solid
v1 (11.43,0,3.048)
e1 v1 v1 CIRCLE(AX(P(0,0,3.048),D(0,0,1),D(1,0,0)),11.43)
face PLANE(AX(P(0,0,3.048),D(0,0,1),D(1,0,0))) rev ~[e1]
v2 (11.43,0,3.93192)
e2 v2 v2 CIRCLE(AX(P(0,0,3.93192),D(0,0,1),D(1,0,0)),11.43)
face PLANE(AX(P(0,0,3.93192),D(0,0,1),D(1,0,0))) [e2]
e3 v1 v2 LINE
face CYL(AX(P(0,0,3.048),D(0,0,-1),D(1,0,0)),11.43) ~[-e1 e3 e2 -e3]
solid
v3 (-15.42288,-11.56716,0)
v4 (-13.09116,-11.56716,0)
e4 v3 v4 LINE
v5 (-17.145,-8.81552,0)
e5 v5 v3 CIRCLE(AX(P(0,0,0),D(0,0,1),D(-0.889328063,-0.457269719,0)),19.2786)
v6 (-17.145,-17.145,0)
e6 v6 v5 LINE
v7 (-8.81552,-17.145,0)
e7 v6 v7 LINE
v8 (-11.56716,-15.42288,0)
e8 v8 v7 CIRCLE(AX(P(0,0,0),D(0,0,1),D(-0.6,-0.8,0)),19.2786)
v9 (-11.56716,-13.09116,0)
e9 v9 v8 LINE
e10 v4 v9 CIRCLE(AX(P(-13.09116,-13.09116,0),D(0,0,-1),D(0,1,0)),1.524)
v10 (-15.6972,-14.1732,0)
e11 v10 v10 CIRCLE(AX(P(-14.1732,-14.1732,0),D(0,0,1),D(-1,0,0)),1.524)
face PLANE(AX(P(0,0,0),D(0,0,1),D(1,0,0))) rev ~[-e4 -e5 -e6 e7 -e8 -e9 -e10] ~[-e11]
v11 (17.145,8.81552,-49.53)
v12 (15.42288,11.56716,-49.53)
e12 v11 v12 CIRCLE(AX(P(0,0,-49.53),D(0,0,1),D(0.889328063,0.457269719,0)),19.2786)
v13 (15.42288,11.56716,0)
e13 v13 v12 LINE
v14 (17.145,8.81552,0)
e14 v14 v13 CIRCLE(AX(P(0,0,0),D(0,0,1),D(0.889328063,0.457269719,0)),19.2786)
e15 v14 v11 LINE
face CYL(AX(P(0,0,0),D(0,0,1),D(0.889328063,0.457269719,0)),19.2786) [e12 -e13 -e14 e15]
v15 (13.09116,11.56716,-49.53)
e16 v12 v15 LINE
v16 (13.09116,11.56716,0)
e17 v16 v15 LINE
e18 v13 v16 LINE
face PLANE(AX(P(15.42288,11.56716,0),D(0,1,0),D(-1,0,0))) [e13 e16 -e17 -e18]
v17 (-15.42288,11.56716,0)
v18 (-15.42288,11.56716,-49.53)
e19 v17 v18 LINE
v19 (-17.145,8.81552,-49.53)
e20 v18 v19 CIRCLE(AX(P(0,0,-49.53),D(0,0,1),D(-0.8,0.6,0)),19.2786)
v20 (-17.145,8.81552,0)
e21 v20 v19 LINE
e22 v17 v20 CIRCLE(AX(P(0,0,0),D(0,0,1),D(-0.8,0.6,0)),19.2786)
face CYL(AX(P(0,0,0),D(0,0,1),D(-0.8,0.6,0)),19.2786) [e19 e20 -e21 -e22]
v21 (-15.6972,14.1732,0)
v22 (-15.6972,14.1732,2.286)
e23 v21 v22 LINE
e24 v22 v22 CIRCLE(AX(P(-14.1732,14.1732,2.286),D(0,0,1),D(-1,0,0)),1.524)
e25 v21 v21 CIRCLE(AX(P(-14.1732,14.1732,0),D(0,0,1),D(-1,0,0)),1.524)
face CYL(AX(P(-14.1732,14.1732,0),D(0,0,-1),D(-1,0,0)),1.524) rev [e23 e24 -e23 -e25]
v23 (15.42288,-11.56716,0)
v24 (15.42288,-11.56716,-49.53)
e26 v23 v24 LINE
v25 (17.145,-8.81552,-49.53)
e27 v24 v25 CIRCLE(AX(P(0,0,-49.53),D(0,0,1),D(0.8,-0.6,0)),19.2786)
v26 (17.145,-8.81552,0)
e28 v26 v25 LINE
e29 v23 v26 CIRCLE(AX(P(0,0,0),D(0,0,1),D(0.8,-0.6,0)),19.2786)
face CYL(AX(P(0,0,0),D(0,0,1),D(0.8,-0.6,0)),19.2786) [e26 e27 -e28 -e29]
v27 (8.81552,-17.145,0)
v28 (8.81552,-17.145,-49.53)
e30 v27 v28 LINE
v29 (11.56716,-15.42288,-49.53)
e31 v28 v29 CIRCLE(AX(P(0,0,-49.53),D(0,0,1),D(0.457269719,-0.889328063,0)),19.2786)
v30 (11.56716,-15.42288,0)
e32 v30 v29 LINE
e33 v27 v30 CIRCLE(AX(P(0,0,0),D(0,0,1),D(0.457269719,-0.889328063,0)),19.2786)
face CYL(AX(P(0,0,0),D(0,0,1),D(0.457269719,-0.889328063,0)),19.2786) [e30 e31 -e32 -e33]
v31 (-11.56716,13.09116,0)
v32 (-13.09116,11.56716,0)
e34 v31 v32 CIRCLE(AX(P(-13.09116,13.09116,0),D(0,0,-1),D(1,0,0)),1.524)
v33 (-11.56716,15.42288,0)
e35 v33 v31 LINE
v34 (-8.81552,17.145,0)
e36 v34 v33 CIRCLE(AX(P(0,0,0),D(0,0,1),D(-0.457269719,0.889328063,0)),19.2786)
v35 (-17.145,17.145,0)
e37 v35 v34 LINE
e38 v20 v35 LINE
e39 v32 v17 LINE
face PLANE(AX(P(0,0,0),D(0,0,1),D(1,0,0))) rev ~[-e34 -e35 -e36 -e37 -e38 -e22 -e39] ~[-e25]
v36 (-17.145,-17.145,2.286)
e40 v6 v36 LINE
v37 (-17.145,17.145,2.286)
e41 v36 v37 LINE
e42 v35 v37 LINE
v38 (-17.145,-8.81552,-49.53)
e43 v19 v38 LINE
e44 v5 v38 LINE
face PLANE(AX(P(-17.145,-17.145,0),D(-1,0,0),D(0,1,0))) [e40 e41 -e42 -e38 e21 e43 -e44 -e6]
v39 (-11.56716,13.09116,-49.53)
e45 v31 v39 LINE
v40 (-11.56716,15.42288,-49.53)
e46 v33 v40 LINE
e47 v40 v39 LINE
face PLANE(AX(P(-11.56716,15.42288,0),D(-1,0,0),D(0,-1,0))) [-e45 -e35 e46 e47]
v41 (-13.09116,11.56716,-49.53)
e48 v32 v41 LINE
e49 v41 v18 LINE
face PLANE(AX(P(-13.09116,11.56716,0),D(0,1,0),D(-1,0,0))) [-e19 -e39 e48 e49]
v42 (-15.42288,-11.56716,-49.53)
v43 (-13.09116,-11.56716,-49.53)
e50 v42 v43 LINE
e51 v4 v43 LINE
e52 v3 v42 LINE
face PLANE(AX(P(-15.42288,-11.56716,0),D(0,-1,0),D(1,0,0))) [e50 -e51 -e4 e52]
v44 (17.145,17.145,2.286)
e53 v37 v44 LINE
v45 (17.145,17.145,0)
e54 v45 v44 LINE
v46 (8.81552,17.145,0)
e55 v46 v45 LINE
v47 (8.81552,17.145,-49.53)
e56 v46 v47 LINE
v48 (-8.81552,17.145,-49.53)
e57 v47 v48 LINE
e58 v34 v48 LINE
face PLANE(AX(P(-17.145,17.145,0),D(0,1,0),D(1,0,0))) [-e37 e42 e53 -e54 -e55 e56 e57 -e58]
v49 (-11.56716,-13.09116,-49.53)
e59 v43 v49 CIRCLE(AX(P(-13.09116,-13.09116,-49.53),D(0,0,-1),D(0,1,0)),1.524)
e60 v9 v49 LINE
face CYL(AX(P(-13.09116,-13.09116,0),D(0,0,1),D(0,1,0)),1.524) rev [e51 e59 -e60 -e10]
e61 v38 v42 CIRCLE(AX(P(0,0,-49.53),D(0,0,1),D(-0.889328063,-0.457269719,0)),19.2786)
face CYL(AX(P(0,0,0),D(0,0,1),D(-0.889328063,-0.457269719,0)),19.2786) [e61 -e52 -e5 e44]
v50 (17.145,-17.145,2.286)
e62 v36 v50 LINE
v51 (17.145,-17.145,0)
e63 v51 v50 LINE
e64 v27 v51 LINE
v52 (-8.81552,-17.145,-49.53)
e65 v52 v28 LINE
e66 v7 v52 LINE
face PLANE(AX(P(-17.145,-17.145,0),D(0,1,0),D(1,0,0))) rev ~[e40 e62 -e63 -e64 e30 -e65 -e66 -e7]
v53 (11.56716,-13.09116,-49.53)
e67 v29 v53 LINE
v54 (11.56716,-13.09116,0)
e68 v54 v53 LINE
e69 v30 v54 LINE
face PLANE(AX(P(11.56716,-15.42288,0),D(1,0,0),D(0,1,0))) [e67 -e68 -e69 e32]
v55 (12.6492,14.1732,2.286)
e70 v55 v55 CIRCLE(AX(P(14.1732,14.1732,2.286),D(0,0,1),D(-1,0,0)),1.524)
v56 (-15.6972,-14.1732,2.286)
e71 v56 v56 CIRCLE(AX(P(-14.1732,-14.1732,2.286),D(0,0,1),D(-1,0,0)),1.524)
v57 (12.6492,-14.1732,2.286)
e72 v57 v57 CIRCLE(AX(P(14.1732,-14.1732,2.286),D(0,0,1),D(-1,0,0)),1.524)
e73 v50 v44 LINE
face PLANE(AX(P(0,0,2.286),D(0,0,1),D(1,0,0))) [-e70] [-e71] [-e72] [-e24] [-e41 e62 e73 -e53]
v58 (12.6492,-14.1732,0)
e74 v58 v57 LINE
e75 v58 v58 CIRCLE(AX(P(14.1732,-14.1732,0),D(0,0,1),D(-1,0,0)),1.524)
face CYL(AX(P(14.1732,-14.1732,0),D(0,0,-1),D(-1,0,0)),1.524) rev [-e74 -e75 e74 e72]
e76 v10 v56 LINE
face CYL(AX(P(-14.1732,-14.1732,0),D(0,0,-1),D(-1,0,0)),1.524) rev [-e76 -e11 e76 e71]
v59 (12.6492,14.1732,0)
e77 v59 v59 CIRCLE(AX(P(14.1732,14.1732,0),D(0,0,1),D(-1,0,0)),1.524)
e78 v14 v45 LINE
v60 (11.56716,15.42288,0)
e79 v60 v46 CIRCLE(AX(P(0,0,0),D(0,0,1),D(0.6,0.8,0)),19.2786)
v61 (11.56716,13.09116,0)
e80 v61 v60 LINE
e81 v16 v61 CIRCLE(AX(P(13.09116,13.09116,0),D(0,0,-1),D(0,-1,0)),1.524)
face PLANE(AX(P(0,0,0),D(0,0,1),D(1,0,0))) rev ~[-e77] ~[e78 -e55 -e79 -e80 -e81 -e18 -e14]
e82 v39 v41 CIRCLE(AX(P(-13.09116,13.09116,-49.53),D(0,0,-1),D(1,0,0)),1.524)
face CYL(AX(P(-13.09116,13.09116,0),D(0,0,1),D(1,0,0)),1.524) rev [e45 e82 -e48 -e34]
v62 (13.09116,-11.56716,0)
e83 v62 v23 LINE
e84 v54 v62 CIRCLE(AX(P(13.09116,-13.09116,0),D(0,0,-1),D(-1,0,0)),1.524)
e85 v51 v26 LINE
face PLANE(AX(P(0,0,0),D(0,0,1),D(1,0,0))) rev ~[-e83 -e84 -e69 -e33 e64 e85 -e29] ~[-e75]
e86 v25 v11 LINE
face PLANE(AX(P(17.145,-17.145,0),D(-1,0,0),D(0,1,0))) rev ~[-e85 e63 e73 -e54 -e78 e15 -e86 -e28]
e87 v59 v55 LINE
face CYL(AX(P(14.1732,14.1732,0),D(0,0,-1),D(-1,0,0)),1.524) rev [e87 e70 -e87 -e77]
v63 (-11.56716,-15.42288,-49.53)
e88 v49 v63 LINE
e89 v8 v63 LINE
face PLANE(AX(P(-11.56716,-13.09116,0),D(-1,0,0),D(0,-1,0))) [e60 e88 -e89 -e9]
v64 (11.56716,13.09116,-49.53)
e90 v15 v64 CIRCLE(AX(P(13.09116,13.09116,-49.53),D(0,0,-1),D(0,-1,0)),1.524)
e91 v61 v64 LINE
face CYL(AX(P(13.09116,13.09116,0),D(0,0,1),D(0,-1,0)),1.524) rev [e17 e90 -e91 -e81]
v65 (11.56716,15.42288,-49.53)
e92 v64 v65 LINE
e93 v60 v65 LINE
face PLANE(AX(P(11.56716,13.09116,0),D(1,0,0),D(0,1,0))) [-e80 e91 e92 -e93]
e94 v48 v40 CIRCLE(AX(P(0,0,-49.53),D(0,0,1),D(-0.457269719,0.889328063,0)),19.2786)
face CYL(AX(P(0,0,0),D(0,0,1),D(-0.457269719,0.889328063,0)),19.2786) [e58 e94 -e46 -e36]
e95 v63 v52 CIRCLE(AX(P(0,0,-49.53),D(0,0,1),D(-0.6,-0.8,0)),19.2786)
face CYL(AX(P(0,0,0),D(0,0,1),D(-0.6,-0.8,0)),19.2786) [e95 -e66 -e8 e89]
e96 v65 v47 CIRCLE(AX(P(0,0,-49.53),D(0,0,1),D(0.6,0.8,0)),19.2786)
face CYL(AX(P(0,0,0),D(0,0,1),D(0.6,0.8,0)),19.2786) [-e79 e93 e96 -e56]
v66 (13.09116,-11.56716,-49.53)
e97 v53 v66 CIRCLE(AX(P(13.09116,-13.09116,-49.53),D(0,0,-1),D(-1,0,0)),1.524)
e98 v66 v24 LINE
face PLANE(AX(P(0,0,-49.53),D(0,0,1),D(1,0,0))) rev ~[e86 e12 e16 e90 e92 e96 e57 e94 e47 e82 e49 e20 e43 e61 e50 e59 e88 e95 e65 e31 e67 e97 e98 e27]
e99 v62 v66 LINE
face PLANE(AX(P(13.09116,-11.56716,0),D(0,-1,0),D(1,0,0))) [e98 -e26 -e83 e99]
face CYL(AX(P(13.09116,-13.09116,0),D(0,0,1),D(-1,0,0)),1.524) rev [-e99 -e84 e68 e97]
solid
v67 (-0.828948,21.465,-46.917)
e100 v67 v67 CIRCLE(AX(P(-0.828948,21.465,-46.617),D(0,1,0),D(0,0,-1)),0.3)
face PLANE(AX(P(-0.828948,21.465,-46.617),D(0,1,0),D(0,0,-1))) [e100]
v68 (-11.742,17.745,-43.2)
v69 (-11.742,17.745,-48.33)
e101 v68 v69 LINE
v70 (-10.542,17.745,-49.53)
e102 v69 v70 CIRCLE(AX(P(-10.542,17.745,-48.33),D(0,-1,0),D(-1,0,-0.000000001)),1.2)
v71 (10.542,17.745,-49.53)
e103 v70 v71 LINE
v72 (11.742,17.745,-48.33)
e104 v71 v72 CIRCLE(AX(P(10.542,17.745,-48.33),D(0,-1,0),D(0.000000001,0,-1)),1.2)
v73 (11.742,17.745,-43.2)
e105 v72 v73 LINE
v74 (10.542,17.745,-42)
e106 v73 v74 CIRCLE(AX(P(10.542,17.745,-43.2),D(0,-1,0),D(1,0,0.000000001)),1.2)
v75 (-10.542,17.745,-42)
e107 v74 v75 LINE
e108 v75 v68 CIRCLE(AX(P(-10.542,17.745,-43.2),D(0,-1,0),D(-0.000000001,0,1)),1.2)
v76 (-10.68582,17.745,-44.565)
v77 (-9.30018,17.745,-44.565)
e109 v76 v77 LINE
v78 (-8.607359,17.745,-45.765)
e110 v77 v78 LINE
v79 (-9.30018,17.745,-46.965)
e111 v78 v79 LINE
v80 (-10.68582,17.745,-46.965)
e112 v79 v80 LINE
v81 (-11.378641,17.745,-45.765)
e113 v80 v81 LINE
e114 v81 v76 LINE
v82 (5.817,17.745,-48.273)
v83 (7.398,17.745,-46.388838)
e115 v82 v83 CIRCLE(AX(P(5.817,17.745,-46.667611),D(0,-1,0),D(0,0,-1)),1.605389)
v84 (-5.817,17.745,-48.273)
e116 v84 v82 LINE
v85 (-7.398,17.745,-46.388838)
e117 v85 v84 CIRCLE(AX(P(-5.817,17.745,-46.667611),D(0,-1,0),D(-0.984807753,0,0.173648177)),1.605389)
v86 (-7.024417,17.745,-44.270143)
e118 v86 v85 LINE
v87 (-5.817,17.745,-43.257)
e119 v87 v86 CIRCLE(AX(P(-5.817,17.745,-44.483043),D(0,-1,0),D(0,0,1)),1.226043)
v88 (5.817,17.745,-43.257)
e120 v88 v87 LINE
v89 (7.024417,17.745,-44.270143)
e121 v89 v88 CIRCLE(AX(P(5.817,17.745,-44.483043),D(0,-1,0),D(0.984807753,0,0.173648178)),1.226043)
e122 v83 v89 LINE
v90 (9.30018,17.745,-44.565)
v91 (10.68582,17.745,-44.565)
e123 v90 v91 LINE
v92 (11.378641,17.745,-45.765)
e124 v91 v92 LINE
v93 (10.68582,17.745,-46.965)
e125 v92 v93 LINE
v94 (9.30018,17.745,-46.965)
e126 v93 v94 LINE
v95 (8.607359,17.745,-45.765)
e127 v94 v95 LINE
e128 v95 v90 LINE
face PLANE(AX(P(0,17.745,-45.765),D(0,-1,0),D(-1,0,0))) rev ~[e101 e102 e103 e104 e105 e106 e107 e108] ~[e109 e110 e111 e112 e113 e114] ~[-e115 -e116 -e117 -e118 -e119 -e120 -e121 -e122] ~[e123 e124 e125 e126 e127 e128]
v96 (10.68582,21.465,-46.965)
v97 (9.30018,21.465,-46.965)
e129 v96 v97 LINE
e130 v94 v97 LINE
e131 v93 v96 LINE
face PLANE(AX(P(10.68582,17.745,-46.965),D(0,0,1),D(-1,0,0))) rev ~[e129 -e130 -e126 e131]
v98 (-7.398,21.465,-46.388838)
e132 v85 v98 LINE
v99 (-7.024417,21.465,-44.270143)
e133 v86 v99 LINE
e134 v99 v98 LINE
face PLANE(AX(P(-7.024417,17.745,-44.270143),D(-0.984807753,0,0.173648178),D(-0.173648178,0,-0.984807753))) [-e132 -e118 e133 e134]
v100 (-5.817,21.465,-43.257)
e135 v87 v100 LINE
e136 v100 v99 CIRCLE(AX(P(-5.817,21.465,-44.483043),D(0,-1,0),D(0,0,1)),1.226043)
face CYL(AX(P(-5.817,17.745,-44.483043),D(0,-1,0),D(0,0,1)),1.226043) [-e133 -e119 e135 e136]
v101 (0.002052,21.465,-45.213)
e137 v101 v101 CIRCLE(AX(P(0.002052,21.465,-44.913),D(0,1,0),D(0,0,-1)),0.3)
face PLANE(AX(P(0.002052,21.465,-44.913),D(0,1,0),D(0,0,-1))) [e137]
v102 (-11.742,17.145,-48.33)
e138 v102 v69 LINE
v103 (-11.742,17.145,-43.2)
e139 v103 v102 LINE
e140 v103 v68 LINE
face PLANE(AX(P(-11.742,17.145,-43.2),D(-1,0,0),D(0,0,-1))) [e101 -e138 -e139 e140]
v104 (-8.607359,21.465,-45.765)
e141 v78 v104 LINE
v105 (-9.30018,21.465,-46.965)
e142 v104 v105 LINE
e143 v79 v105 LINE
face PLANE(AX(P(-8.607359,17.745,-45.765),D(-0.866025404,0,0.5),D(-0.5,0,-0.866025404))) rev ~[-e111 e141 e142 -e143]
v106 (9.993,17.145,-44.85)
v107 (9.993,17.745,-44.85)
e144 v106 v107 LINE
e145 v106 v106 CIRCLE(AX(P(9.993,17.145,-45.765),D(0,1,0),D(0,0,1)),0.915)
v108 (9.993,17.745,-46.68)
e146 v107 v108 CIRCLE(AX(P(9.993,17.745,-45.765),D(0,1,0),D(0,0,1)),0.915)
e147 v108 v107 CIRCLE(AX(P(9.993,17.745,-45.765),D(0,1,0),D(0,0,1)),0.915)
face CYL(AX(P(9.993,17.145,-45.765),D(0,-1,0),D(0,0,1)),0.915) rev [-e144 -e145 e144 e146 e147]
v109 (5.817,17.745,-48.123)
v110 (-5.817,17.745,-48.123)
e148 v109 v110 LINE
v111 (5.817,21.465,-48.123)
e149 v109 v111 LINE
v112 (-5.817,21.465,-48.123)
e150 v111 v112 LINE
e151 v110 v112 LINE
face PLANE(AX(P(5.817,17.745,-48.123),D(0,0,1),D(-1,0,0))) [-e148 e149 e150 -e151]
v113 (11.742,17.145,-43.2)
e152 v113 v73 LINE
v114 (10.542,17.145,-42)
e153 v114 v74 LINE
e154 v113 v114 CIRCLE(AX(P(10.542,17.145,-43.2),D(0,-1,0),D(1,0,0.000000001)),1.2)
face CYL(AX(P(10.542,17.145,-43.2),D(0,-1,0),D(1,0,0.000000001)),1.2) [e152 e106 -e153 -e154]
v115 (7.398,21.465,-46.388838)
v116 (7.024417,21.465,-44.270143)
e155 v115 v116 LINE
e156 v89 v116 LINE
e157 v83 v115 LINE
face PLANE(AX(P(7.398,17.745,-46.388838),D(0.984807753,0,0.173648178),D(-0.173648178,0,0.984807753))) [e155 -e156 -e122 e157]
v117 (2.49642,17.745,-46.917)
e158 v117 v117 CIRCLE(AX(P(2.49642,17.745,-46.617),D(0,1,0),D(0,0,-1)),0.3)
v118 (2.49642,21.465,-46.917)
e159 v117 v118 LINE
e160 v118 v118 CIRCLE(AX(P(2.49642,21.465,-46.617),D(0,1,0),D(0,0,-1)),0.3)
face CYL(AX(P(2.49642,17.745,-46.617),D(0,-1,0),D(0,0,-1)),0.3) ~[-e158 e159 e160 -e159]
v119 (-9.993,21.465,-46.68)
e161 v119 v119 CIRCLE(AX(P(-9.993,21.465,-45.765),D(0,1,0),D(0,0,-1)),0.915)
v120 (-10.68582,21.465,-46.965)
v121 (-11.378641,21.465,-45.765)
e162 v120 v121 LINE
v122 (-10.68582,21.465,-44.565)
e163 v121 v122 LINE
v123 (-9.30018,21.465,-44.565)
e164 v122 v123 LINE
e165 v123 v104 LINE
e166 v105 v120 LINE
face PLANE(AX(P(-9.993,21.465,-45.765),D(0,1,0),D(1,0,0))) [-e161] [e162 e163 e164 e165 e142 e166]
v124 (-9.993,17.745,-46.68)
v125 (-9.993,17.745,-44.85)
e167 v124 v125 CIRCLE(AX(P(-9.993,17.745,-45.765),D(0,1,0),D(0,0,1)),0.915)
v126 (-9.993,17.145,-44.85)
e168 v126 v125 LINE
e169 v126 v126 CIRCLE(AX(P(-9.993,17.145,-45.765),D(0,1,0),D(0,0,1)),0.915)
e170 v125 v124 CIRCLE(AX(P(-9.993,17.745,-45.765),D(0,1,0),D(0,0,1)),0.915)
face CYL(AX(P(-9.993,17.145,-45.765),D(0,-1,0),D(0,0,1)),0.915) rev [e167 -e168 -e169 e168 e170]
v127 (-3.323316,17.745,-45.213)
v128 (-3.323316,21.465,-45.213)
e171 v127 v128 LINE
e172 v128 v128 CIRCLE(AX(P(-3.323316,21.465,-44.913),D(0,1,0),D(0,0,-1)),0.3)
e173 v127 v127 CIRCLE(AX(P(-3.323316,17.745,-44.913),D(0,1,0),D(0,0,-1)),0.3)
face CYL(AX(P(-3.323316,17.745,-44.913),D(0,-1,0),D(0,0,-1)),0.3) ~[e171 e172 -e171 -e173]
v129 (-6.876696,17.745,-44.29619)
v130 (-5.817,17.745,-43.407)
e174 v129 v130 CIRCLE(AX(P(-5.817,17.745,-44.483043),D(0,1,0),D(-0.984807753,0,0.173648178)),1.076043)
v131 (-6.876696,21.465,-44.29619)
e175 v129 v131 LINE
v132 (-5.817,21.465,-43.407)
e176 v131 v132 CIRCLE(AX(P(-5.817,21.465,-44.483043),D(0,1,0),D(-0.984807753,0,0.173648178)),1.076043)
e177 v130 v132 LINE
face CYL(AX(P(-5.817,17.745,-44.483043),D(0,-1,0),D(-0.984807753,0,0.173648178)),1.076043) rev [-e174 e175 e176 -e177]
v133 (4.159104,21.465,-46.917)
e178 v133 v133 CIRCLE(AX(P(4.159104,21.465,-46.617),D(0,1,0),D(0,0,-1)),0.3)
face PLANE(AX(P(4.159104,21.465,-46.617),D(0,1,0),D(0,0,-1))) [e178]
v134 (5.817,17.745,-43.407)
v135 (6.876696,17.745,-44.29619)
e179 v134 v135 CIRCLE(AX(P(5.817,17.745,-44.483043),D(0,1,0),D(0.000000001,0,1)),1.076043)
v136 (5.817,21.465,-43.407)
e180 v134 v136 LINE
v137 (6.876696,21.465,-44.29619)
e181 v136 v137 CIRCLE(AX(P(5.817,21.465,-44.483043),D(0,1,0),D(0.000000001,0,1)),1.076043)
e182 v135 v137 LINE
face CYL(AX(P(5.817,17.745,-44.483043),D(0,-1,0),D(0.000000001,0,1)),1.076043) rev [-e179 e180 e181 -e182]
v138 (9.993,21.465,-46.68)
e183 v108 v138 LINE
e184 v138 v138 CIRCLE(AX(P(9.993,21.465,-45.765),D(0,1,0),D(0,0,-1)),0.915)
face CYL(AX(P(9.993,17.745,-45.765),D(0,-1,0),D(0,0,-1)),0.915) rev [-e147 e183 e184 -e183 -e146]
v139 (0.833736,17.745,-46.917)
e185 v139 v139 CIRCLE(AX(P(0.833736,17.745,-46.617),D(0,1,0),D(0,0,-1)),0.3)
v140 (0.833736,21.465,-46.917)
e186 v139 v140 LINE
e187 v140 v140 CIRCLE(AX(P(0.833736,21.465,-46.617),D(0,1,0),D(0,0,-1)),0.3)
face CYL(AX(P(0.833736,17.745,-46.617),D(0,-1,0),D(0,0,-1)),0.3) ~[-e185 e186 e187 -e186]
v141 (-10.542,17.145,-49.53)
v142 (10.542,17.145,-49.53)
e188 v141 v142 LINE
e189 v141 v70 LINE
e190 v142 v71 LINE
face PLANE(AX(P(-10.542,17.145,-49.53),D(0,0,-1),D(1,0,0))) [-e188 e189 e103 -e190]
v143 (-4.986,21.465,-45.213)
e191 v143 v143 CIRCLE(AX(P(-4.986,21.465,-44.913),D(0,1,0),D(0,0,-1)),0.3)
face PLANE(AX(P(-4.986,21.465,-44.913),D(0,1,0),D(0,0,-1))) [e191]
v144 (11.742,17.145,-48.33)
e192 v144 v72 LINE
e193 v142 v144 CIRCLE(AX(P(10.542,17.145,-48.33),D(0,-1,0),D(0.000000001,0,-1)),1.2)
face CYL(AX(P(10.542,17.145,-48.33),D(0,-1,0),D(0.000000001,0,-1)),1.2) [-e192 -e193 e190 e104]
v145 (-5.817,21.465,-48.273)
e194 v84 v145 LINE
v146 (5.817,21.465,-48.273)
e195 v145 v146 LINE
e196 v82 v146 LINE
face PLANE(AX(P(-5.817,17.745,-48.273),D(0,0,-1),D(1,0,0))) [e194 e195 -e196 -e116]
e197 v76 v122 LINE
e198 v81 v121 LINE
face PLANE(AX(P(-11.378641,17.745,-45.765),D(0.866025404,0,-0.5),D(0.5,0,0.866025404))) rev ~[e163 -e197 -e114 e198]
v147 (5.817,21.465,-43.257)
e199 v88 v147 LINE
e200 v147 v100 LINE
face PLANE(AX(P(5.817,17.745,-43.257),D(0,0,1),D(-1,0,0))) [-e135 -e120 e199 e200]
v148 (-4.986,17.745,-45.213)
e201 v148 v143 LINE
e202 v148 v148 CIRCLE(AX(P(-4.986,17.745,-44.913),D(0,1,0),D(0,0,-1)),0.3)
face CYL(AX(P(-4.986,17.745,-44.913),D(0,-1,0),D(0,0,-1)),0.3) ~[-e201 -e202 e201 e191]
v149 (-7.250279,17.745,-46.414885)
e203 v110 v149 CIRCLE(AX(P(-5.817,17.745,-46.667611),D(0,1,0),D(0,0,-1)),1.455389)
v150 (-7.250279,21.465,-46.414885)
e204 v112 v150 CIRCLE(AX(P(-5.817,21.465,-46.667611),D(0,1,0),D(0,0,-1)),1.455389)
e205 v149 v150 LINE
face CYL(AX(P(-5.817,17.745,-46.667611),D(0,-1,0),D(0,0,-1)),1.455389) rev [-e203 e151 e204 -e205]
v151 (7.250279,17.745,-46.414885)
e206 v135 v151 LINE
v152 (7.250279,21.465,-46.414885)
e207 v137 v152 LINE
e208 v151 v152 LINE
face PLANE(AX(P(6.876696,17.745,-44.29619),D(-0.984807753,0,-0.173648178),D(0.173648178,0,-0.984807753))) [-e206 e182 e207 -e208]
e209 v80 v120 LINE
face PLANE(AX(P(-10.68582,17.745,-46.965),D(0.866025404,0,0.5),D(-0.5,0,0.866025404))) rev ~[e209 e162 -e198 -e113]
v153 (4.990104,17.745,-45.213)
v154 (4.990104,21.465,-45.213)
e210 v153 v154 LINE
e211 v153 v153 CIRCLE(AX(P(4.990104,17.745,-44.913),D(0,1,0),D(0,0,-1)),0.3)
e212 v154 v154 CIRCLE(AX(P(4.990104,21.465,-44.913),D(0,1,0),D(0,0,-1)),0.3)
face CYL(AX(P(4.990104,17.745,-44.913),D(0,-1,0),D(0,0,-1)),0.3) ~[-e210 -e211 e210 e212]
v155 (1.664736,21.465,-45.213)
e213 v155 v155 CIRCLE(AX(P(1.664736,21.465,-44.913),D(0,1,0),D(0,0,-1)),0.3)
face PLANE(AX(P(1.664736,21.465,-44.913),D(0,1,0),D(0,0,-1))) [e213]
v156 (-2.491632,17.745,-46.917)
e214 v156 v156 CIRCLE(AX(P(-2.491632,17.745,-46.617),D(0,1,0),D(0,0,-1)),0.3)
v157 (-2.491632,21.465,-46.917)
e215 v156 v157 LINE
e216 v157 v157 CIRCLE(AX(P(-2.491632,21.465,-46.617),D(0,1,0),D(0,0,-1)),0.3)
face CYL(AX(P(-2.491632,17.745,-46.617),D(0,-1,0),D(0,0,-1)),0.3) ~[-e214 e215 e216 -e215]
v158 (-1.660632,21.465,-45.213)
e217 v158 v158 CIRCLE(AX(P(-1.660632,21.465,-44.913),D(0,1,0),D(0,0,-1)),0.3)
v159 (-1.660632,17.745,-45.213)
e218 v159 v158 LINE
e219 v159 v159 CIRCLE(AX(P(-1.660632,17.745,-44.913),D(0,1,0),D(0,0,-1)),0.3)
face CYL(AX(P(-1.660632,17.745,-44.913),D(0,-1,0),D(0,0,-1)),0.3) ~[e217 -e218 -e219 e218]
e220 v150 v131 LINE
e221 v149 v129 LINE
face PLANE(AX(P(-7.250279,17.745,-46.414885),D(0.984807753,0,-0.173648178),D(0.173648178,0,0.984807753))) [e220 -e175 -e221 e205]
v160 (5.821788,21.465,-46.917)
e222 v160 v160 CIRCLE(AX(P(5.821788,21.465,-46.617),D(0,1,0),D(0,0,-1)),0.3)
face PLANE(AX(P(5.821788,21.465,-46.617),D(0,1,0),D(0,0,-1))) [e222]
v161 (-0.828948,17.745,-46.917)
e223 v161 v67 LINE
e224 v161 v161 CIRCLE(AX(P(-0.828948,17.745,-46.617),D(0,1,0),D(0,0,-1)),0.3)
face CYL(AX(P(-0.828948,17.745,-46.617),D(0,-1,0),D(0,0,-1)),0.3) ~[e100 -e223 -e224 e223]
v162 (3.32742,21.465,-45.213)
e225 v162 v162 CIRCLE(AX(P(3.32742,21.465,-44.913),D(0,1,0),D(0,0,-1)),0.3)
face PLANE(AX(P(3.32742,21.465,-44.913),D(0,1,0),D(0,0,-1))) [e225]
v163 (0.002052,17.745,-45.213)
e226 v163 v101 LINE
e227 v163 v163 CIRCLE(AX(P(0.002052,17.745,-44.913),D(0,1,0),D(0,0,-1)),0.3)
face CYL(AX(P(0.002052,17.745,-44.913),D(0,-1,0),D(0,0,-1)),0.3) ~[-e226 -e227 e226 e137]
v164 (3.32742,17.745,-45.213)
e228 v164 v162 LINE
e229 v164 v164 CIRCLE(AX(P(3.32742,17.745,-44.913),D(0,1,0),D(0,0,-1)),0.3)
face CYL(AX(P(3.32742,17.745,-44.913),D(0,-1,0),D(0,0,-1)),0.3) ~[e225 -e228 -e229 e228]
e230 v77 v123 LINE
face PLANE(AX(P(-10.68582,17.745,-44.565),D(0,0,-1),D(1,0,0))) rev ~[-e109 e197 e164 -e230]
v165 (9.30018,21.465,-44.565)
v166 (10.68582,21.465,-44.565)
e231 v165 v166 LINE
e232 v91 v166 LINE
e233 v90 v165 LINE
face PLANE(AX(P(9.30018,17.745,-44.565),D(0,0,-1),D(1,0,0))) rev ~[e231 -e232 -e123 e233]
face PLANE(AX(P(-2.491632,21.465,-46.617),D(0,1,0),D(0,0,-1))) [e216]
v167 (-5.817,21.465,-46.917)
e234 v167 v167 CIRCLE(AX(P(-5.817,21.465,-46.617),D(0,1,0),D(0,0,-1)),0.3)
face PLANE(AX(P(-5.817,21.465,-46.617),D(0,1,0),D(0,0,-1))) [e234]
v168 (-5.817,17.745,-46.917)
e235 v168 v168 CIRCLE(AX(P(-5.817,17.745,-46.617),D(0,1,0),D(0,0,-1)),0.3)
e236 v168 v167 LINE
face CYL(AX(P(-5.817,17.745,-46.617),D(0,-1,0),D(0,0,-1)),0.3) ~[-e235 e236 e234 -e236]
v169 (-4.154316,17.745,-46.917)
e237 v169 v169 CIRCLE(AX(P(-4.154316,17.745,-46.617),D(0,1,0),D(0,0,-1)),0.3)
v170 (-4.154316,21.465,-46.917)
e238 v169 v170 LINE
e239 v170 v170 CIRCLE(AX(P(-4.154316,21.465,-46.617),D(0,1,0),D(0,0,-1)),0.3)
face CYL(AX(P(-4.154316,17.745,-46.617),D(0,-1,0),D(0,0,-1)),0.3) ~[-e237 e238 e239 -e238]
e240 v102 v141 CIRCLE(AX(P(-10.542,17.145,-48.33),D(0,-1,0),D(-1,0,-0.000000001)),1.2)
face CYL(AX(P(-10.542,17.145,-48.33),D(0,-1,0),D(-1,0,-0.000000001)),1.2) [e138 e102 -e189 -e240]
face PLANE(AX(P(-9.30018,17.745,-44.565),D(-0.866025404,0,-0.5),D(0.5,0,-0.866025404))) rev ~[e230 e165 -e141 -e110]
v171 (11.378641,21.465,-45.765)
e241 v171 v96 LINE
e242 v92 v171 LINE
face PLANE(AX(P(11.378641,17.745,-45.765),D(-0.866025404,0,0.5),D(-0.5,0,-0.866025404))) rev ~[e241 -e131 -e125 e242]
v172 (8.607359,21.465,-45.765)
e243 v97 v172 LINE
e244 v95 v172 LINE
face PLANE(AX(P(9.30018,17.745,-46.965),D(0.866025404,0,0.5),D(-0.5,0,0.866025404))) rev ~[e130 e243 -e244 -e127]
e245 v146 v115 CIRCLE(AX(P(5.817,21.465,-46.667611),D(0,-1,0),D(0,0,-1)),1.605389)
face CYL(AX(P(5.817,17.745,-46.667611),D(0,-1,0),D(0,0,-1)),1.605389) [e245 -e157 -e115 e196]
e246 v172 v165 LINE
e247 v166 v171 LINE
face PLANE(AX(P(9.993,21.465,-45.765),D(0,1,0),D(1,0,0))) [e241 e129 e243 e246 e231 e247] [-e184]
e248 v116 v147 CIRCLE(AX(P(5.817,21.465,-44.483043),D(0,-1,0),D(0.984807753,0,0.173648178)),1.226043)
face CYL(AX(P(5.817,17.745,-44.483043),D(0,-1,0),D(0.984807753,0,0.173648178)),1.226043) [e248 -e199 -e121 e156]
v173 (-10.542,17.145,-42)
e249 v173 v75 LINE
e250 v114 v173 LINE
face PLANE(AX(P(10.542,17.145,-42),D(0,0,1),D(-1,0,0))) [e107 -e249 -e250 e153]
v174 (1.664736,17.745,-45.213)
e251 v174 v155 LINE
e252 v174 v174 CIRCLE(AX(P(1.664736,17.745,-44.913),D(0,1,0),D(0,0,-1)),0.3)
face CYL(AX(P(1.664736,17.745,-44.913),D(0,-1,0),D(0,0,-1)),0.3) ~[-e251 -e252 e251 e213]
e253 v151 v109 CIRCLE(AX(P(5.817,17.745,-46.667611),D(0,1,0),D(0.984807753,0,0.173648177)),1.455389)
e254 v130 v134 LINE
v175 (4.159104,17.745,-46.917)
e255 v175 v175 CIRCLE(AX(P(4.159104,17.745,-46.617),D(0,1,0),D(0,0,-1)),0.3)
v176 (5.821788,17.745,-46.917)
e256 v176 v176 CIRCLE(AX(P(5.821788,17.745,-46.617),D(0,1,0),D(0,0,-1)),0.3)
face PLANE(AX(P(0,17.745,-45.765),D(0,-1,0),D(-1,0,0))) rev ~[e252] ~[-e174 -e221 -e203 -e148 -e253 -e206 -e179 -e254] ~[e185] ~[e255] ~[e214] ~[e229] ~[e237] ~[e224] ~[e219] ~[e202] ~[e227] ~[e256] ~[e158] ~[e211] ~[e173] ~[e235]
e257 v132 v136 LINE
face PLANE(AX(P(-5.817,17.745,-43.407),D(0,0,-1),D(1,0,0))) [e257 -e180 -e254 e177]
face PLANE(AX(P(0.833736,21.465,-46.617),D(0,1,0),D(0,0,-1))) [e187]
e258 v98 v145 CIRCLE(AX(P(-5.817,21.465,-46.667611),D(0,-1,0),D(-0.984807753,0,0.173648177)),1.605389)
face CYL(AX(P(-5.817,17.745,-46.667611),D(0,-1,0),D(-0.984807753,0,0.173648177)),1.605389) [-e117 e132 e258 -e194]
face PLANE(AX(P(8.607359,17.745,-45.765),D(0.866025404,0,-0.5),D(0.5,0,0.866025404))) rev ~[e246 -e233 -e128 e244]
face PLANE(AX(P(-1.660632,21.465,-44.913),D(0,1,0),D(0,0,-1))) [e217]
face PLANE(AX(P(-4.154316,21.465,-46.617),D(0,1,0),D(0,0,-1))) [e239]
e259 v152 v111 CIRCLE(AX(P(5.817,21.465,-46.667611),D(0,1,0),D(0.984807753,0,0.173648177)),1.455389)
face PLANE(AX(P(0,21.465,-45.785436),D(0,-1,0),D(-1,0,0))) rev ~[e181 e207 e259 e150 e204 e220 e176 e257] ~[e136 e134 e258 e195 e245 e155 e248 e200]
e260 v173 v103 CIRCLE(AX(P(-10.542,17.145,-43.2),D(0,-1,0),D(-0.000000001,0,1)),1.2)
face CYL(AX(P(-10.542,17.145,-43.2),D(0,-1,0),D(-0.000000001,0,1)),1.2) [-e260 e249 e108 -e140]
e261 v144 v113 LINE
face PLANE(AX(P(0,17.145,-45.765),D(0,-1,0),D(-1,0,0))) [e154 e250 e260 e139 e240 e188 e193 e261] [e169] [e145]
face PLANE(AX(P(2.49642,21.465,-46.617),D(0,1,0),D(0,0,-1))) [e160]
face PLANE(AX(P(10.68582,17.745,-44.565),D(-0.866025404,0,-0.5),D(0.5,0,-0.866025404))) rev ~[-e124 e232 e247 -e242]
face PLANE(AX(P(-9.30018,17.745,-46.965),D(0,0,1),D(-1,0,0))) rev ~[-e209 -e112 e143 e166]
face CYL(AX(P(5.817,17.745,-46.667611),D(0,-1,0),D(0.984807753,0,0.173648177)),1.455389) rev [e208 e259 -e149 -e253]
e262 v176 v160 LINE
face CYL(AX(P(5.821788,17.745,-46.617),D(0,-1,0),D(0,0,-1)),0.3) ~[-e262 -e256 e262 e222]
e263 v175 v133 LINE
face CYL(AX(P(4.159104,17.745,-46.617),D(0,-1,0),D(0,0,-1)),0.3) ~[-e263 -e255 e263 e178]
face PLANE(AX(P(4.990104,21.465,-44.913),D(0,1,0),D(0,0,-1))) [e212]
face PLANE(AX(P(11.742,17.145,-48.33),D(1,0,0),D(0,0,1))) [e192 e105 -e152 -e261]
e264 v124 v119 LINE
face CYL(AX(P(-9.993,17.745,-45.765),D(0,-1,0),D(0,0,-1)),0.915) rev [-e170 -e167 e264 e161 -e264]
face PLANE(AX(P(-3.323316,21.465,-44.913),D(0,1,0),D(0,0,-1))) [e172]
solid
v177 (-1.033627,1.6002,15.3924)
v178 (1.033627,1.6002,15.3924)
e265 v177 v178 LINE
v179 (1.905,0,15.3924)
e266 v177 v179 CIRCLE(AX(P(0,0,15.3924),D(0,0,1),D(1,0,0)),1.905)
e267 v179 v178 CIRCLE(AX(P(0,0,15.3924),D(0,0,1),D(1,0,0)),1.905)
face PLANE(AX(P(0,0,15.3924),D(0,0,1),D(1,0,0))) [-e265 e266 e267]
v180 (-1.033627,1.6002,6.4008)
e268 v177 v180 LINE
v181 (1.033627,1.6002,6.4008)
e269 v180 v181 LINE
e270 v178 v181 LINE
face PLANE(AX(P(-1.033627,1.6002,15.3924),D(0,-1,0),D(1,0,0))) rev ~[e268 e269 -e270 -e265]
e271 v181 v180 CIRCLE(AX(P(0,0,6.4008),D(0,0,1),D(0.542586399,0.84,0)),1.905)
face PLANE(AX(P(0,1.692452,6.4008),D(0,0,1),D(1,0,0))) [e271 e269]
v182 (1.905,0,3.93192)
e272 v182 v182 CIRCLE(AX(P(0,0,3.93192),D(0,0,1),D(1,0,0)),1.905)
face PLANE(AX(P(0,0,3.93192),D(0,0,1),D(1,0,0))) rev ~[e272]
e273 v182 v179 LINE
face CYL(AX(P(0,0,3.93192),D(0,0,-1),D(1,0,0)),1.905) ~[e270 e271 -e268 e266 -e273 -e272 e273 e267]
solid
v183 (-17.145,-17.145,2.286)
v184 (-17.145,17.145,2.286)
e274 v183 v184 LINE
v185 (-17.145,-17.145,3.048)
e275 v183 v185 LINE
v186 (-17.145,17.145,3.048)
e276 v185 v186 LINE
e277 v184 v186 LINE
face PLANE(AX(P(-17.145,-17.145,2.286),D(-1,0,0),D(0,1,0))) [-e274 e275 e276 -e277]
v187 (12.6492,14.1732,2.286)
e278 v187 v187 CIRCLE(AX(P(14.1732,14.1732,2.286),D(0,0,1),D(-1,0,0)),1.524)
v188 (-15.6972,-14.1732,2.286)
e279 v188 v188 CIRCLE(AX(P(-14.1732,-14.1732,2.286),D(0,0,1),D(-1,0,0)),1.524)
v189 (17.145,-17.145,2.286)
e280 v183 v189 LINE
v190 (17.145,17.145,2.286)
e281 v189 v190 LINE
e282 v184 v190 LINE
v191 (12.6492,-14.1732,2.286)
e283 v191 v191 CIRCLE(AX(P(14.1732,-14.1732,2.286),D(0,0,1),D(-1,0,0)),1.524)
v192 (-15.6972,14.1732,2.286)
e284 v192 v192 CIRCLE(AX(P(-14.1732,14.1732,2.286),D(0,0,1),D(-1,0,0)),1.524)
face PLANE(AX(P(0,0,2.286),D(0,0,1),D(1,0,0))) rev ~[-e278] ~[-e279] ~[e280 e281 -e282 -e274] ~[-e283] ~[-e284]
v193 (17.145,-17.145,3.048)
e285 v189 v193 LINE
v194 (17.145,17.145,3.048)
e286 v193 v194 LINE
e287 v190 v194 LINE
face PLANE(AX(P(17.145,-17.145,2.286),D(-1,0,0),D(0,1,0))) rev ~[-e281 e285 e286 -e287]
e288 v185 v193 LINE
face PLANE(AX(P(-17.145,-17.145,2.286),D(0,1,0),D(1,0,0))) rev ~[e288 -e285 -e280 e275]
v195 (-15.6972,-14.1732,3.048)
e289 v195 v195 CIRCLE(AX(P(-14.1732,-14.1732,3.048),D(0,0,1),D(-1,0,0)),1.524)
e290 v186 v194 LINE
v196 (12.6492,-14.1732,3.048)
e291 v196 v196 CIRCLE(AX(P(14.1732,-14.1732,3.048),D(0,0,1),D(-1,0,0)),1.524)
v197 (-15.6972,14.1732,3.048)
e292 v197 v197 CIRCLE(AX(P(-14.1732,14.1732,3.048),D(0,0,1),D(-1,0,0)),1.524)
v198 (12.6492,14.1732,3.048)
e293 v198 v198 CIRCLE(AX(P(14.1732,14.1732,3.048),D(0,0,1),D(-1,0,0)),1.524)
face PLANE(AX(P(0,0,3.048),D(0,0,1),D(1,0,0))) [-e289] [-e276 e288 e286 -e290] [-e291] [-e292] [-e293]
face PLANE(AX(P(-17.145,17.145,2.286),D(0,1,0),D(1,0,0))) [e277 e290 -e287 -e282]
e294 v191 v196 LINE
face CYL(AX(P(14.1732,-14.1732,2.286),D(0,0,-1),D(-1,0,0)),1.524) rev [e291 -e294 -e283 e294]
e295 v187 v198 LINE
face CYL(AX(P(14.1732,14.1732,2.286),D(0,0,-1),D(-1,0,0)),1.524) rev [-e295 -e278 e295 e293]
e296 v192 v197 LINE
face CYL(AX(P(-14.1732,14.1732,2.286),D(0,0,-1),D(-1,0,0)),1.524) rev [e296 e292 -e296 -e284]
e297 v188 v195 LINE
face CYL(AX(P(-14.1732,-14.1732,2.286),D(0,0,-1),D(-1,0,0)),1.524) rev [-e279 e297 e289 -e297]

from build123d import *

# Parameters (mm, degrees)
SKETCH2_W            = 57.15
SKETCH2_H            = 57.15
SKETCH2_R            = 2.54
BODY_FRONT_DEPTH     = 3.81
SKETCH3_W            = 57.15
SKETCH3_H            = 57.15
SKETCH3_R            = 2.54
FACE_PLATE_DEPTH     = 1.27
BODY_REAR_DEPTH      = 82.55
SKETCH5_R            = 19.05
SHAFT_BASE_DEPTH     = 1.4732
SKETCH6_R            = 3.175
SHAFT_DEPTH          = 19.1008
SHAFT_FLAT_DEPTH     = 14.986
SKETCH9_R            = 1.525
CONNECTOR_BASE_DEPTH = 1
SKETCH10_R           = 1.525
SKETCH10_R_2         = 0.5
CONNECTOR_DEPTH      = 6.2
SCALE1_SCALE         = 2
SCALE2_SCALE         = 0.1
SCALE3_SCALE         = 3


with BuildPart() as part:
    # Sketch2 → Body Front (new body)
    with BuildSketch(Plane.XY):
        Rectangle(SKETCH2_W, SKETCH2_H)
        with Locations(Location((-23.622, -23.622, 0), (0, 0, 180))):
            Circle(SKETCH2_R, mode=Mode.SUBTRACT)
        with Locations(Location((-23.622, 23.622, 0), (0, 0, 180))):
            Circle(SKETCH2_R, mode=Mode.SUBTRACT)
        with Locations(Location((23.622, 23.622, 0), (0, 0, 180))):
            Circle(SKETCH2_R, mode=Mode.SUBTRACT)
        with Locations(Location((23.622, -23.622, 0), (0, 0, 180))):
            Circle(SKETCH2_R, mode=Mode.SUBTRACT)
    extrude(amount=BODY_FRONT_DEPTH)

    # Sketch4 → Body Rear (add)
    with BuildSketch(Plane(origin=(0, 0, 0), x_dir=(-1, 0, 0), z_dir=(0, 0, -1))):
        with BuildLine():
            Line((-21.8186, -19.2786), (-25.7048, -19.2786))
            ThreePointArc((-25.7048, -19.2786), (-27.236596224, -17.046084217), (-28.575, -14.692533342))
            Line((-28.575, -14.692533342), (-28.575, 14.692533342))
            ThreePointArc((-28.575, 14.692533342), (-27.236596224, 17.046084217), (-25.7048, 19.2786))
            Line((-25.7048, 19.2786), (-21.8186, 19.2786))
            ThreePointArc((-21.8186, 19.2786), (-20.022548776, 20.022548776), (-19.2786, 21.8186))
            Line((-19.2786, 21.8186), (-19.2786, 25.7048))
            ThreePointArc((-19.2786, 25.7048), (-17.046084217, 27.236596224), (-14.692533342, 28.575))
            Line((-14.692533342, 28.575), (14.692533342, 28.575))
            ThreePointArc((14.692533342, 28.575), (17.046084217, 27.236596224), (19.2786, 25.7048))
            Line((19.2786, 25.7048), (19.2786, 21.8186))
            ThreePointArc((19.2786, 21.8186), (20.022548776, 20.022548776), (21.8186, 19.2786))
            Line((21.8186, 19.2786), (25.7048, 19.2786))
            ThreePointArc((25.7048, 19.2786), (27.236596224, 17.046084217), (28.575, 14.692533342))
            Line((28.575, 14.692533342), (28.575, -14.692533342))
            ThreePointArc((28.575, -14.692533342), (27.236596224, -17.046084217), (25.7048, -19.2786))
            Line((25.7048, -19.2786), (21.8186, -19.2786))
            ThreePointArc((21.8186, -19.2786), (20.022548776, -20.022548776), (19.2786, -21.8186))
            Line((19.2786, -21.8186), (19.2786, -25.7048))
            ThreePointArc((19.2786, -25.7048), (17.046084217, -27.236596224), (14.692533342, -28.575))
            Line((14.692533342, -28.575), (-14.692533342, -28.575))
            ThreePointArc((-14.692533342, -28.575), (-17.046084217, -27.236596224), (-19.2786, -25.7048))
            Line((-19.2786, -25.7048), (-19.2786, -21.8186))
            ThreePointArc((-19.2786, -21.8186), (-20.022548776, -20.022548776), (-21.8186, -19.2786))
        make_face()
    extrude(amount=BODY_REAR_DEPTH)


with BuildPart() as body_2:
    # Sketch3 → Face Plate (new body)
    with BuildSketch(Plane.XY.offset(3.81)):
        Rectangle(SKETCH3_W, SKETCH3_H)
        with Locations(Location((-23.622, 23.622, 0), (0, 0, 180))):
            Circle(SKETCH3_R, mode=Mode.SUBTRACT)
        with Locations(Location((-23.622, -23.622, 0), (0, 0, 180))):
            Circle(SKETCH3_R, mode=Mode.SUBTRACT)
        with Locations(Location((23.622, -23.622, 0), (0, 0, 180))):
            Circle(SKETCH3_R, mode=Mode.SUBTRACT)
        with Locations(Location((23.622, 23.622, 0), (0, 0, 180))):
            Circle(SKETCH3_R, mode=Mode.SUBTRACT)
    extrude(amount=FACE_PLATE_DEPTH)


with BuildPart() as body_3:
    # Sketch5 → Shaft Base (new body)
    with BuildSketch(Plane.XY.offset(5.08)):
        Circle(SKETCH5_R)
    extrude(amount=SHAFT_BASE_DEPTH)


with BuildPart() as body_4:
    # Sketch6 → Shaft (new body)
    with BuildSketch(Plane.XY.offset(6.5532)):
        Circle(SKETCH6_R)
    extrude(amount=SHAFT_DEPTH)

    # Sketch7 → Shaft Flat (cut)
    with BuildSketch(Plane.XY.offset(25.654)):
        with BuildLine():
            Line((-1.722711816, 2.667), (1.722711816, 2.667))
            ThreePointArc((1.722711816, 2.667), (0, 3.175), (-1.722711816, 2.667))
        make_face()
    extrude(amount=-SHAFT_FLAT_DEPTH, mode=Mode.SUBTRACT)


with BuildPart() as body_5:
    # Sketch9 → Connector Base (new body)
    with BuildSketch(Plane(origin=(0, 28.575, 0), x_dir=(1, 0, 0), z_dir=(0, 1, 0))):
        with BuildLine():
            Line((-19.57, 72), (-19.57, 80.55))
            ThreePointArc((-19.57, 80.55), (-18.984213562, 81.964213562), (-17.57, 82.55))
            Line((-17.57, 82.55), (17.57, 82.55))
            ThreePointArc((17.57, 82.55), (18.984213562, 81.964213562), (19.57, 80.55))
            Line((19.57, 80.55), (19.57, 72))
            ThreePointArc((19.57, 72), (18.984213562, 70.585786438), (17.57, 70))
            Line((17.57, 70), (-17.57, 70))
            ThreePointArc((-17.57, 70), (-18.984213562, 70.585786438), (-19.57, 72))
        make_face()
        with Locations(Location((16.655, 76.275, 0), (0, 0, 270))):
            Circle(SKETCH9_R, mode=Mode.SUBTRACT)
        with Locations(Location((-16.655, 76.275, 0), (0, 0, 270))):
            Circle(SKETCH9_R, mode=Mode.SUBTRACT)
    extrude(amount=CONNECTOR_BASE_DEPTH)

    # Sketch10 → Connector (add)
    # profile 1 of 18: a face of its own
    with BuildSketch(Plane(origin=(0, 29.575, 0), x_dir=(1, 0, 0), z_dir=(0, 1, 0))):
        Polygon((-14.345598923, 76.275), (-15.500299462, 78.275), (-17.809700538, 78.275), (-18.964401077, 76.275), (-17.809700538, 74.275), (-15.500299462, 74.275), align=None)
        with Locations(Location((-16.655, 76.275, 0), (0, 0, 90))):
            Circle(SKETCH10_R, mode=Mode.SUBTRACT)
    # profile 2 of 18: a face of its own
    with BuildSketch(Plane(origin=(0, 29.575, 0), x_dir=(1, 0, 0), z_dir=(0, 1, 0))):
        with BuildLine():
            Line((-11.707361689, 73.783571951), (-12.33, 77.314729284))
            ThreePointArc((-12.33, 77.314729284), (-11.744666142, 79.499224981), (-9.695, 80.455))
            Line((-9.695, 80.455), (9.695, 80.455))
            ThreePointArc((9.695, 80.455), (11.744666142, 79.499224981), (12.33, 77.314729284))
            Line((12.33, 77.314729284), (11.707361689, 73.783571951))
            ThreePointArc((11.707361689, 73.783571951), (11.008475809, 72.573066098), (9.695, 72.095))
            Line((9.695, 72.095), (-9.695, 72.095))
            ThreePointArc((-9.695, 72.095), (-11.008475809, 72.573066098), (-11.707361689, 73.783571951))
        make_face()
        with BuildLine():
            ThreePointArc((-9.695, 80.205), (-11.553155031, 79.338528079), (-12.083798062, 77.358141328))
            Line((-12.083798062, 77.358141328), (-11.461159751, 73.826983996))
            ThreePointArc((-11.461159751, 73.826983996), (-10.847778906, 72.764577209), (-9.695, 72.345))
            Line((-9.695, 72.345), (9.695, 72.345))
            ThreePointArc((9.695, 72.345), (10.847778906, 72.764577209), (11.461159751, 73.826983996))
            Line((11.461159751, 73.826983996), (12.083798062, 77.358141328))
            ThreePointArc((12.083798062, 77.358141328), (11.553155031, 79.338528079), (9.695, 80.205))
            Line((9.695, 80.205), (-9.695, 80.205))
        make_face(mode=Mode.SUBTRACT)
    # profile 3 of 18: a face of its own
    with BuildSketch(Plane(origin=(0, 29.575, 0), x_dir=(1, 0, 0), z_dir=(0, 1, 0))):
        with Locations(Location((-9.695, 77.695, 0), (0, 0, 90))):
            Circle(SKETCH10_R_2)
    # profile 4 of 18: a face of its own
    with BuildSketch(Plane(origin=(0, 29.575, 0), x_dir=(1, 0, 0), z_dir=(0, 1, 0))):
        with Locations(Location((-6.92386, 77.695, 0), (0, 0, 90))):
            Circle(SKETCH10_R_2)
    # profile 5 of 18: a face of its own
    with BuildSketch(Plane(origin=(0, 29.575, 0), x_dir=(1, 0, 0), z_dir=(0, 1, 0))):
        with Locations(Location((-8.31, 74.855, 0), (0, 0, 90))):
            Circle(SKETCH10_R_2)
    # profile 6 of 18: a face of its own
    with BuildSketch(Plane(origin=(0, 29.575, 0), x_dir=(1, 0, 0), z_dir=(0, 1, 0))):
        with Locations(Location((-5.53886, 74.855, 0), (0, 0, 90))):
            Circle(SKETCH10_R_2)
    # profile 7 of 18: a face of its own
    with BuildSketch(Plane(origin=(0, 29.575, 0), x_dir=(1, 0, 0), z_dir=(0, 1, 0))):
        with Locations(Location((-2.76772, 74.855, 0), (0, 0, 90))):
            Circle(SKETCH10_R_2)
    # profile 8 of 18: a face of its own
    with BuildSketch(Plane(origin=(0, 29.575, 0), x_dir=(1, 0, 0), z_dir=(0, 1, 0))):
        with Locations(Location((-4.15272, 77.695, 0), (0, 0, 90))):
            Circle(SKETCH10_R_2)
    # profile 9 of 18: a face of its own
    with BuildSketch(Plane(origin=(0, 29.575, 0), x_dir=(1, 0, 0), z_dir=(0, 1, 0))):
        with Locations(Location((0.00342, 74.855, 0), (0, 0, 90))):
            Circle(SKETCH10_R_2)
    # profile 10 of 18: a face of its own
    with BuildSketch(Plane(origin=(0, 29.575, 0), x_dir=(1, 0, 0), z_dir=(0, 1, 0))):
        with Locations(Location((1.38956, 77.695, 0), (0, 0, 90))):
            Circle(SKETCH10_R_2)
    # profile 11 of 18: a face of its own
    with BuildSketch(Plane(origin=(0, 29.575, 0), x_dir=(1, 0, 0), z_dir=(0, 1, 0))):
        with Locations(Location((2.77456, 74.855, 0), (0, 0, 90))):
            Circle(SKETCH10_R_2)
    # profile 12 of 18: a face of its own
    with BuildSketch(Plane(origin=(0, 29.575, 0), x_dir=(1, 0, 0), z_dir=(0, 1, 0))):
        with Locations(Location((4.1607, 77.695, 0), (0, 0, 90))):
            Circle(SKETCH10_R_2)
    # profile 13 of 18: a face of its own
    with BuildSketch(Plane(origin=(0, 29.575, 0), x_dir=(1, 0, 0), z_dir=(0, 1, 0))):
        with Locations(Location((5.5457, 74.855, 0), (0, 0, 90))):
            Circle(SKETCH10_R_2)
    # profile 14 of 18: a face of its own
    with BuildSketch(Plane(origin=(0, 29.575, 0), x_dir=(1, 0, 0), z_dir=(0, 1, 0))):
        with Locations(Location((6.93184, 77.695, 0), (0, 0, 90))):
            Circle(SKETCH10_R_2)
    # profile 15 of 18: a face of its own
    with BuildSketch(Plane(origin=(0, 29.575, 0), x_dir=(1, 0, 0), z_dir=(0, 1, 0))):
        with Locations(Location((8.31684, 74.855, 0), (0, 0, 90))):
            Circle(SKETCH10_R_2)
    # profile 16 of 18: a face of its own
    with BuildSketch(Plane(origin=(0, 29.575, 0), x_dir=(1, 0, 0), z_dir=(0, 1, 0))):
        with Locations(Location((9.70298, 77.695, 0), (0, 0, 90))):
            Circle(SKETCH10_R_2)
    # profile 17 of 18: a face of its own
    with BuildSketch(Plane(origin=(0, 29.575, 0), x_dir=(1, 0, 0), z_dir=(0, 1, 0))):
        Polygon((17.809700538, 78.275), (15.500299462, 78.275), (14.345598923, 76.275), (15.500299462, 74.275), (17.809700538, 74.275), (18.964401077, 76.275), align=None)
        with Locations(Location((16.655, 76.275, 0), (0, 0, 90))):
            Circle(SKETCH10_R, mode=Mode.SUBTRACT)
    # profile 18 of 18: a face of its own
    with BuildSketch(Plane(origin=(0, 29.575, 0), x_dir=(1, 0, 0), z_dir=(0, 1, 0))):
        with Locations(Location((-1.38158, 77.695, 0), (0, 0, 90))):
            Circle(SKETCH10_R_2)
    extrude(amount=CONNECTOR_DEPTH)


with BuildPart() as body_5_1:
    # Scale1: scaled about (0, 0, 0)
    add(body_5.part.scale(SCALE1_SCALE))


with BuildPart() as body_3_1:
    # Scale1: scaled about (0, 0, 0)
    add(body_3.part.scale(SCALE1_SCALE))


with BuildPart() as body_4_1:
    # Scale1: scaled about (0, 0, 0)
    add(body_4.part.scale(SCALE1_SCALE))


with BuildPart() as body_2_1:
    # Scale1: scaled about (0, 0, 0)
    add(body_2.part.scale(SCALE1_SCALE))


with BuildPart() as part_1:
    # Scale1: scaled about (0, 0, 0)
    add(part.part.scale(SCALE1_SCALE))


with BuildPart() as body_3_2:
    # Scale2: scaled about (0, 0, 0)
    add(body_3_1.part.scale(SCALE2_SCALE))


with BuildPart() as part_2:
    # Scale2: scaled about (0, 0, 0)
    add(part_1.part.scale(SCALE2_SCALE))


with BuildPart() as body_4_2:
    # Scale2: scaled about (0, 0, 0)
    add(body_4_1.part.scale(SCALE2_SCALE))


with BuildPart() as body_5_2:
    # Scale2: scaled about (0, 0, 0)
    add(body_5_1.part.scale(SCALE2_SCALE))


with BuildPart() as body_2_2:
    # Scale2: scaled about (0, 0, 0)
    add(body_2_1.part.scale(SCALE2_SCALE))


with BuildPart() as body_4_3:
    # Scale3: scaled about (0, 0, 0)
    add(body_4_2.part.scale(SCALE3_SCALE))


with BuildPart() as body_2_3:
    # Scale3: scaled about (0, 0, 0)
    add(body_2_2.part.scale(SCALE3_SCALE))


with BuildPart() as body_3_3:
    # Scale3: scaled about (0, 0, 0)
    add(body_3_2.part.scale(SCALE3_SCALE))


with BuildPart() as body_5_3:
    # Scale3: scaled about (0, 0, 0)
    add(body_5_2.part.scale(SCALE3_SCALE))


with BuildPart() as part_3:
    # Scale3: scaled about (0, 0, 0)
    add(part_2.part.scale(SCALE3_SCALE))


solid = Compound([body_4_3.part, body_2_3.part, body_3_3.part, body_5_3.part, part_3.part])
